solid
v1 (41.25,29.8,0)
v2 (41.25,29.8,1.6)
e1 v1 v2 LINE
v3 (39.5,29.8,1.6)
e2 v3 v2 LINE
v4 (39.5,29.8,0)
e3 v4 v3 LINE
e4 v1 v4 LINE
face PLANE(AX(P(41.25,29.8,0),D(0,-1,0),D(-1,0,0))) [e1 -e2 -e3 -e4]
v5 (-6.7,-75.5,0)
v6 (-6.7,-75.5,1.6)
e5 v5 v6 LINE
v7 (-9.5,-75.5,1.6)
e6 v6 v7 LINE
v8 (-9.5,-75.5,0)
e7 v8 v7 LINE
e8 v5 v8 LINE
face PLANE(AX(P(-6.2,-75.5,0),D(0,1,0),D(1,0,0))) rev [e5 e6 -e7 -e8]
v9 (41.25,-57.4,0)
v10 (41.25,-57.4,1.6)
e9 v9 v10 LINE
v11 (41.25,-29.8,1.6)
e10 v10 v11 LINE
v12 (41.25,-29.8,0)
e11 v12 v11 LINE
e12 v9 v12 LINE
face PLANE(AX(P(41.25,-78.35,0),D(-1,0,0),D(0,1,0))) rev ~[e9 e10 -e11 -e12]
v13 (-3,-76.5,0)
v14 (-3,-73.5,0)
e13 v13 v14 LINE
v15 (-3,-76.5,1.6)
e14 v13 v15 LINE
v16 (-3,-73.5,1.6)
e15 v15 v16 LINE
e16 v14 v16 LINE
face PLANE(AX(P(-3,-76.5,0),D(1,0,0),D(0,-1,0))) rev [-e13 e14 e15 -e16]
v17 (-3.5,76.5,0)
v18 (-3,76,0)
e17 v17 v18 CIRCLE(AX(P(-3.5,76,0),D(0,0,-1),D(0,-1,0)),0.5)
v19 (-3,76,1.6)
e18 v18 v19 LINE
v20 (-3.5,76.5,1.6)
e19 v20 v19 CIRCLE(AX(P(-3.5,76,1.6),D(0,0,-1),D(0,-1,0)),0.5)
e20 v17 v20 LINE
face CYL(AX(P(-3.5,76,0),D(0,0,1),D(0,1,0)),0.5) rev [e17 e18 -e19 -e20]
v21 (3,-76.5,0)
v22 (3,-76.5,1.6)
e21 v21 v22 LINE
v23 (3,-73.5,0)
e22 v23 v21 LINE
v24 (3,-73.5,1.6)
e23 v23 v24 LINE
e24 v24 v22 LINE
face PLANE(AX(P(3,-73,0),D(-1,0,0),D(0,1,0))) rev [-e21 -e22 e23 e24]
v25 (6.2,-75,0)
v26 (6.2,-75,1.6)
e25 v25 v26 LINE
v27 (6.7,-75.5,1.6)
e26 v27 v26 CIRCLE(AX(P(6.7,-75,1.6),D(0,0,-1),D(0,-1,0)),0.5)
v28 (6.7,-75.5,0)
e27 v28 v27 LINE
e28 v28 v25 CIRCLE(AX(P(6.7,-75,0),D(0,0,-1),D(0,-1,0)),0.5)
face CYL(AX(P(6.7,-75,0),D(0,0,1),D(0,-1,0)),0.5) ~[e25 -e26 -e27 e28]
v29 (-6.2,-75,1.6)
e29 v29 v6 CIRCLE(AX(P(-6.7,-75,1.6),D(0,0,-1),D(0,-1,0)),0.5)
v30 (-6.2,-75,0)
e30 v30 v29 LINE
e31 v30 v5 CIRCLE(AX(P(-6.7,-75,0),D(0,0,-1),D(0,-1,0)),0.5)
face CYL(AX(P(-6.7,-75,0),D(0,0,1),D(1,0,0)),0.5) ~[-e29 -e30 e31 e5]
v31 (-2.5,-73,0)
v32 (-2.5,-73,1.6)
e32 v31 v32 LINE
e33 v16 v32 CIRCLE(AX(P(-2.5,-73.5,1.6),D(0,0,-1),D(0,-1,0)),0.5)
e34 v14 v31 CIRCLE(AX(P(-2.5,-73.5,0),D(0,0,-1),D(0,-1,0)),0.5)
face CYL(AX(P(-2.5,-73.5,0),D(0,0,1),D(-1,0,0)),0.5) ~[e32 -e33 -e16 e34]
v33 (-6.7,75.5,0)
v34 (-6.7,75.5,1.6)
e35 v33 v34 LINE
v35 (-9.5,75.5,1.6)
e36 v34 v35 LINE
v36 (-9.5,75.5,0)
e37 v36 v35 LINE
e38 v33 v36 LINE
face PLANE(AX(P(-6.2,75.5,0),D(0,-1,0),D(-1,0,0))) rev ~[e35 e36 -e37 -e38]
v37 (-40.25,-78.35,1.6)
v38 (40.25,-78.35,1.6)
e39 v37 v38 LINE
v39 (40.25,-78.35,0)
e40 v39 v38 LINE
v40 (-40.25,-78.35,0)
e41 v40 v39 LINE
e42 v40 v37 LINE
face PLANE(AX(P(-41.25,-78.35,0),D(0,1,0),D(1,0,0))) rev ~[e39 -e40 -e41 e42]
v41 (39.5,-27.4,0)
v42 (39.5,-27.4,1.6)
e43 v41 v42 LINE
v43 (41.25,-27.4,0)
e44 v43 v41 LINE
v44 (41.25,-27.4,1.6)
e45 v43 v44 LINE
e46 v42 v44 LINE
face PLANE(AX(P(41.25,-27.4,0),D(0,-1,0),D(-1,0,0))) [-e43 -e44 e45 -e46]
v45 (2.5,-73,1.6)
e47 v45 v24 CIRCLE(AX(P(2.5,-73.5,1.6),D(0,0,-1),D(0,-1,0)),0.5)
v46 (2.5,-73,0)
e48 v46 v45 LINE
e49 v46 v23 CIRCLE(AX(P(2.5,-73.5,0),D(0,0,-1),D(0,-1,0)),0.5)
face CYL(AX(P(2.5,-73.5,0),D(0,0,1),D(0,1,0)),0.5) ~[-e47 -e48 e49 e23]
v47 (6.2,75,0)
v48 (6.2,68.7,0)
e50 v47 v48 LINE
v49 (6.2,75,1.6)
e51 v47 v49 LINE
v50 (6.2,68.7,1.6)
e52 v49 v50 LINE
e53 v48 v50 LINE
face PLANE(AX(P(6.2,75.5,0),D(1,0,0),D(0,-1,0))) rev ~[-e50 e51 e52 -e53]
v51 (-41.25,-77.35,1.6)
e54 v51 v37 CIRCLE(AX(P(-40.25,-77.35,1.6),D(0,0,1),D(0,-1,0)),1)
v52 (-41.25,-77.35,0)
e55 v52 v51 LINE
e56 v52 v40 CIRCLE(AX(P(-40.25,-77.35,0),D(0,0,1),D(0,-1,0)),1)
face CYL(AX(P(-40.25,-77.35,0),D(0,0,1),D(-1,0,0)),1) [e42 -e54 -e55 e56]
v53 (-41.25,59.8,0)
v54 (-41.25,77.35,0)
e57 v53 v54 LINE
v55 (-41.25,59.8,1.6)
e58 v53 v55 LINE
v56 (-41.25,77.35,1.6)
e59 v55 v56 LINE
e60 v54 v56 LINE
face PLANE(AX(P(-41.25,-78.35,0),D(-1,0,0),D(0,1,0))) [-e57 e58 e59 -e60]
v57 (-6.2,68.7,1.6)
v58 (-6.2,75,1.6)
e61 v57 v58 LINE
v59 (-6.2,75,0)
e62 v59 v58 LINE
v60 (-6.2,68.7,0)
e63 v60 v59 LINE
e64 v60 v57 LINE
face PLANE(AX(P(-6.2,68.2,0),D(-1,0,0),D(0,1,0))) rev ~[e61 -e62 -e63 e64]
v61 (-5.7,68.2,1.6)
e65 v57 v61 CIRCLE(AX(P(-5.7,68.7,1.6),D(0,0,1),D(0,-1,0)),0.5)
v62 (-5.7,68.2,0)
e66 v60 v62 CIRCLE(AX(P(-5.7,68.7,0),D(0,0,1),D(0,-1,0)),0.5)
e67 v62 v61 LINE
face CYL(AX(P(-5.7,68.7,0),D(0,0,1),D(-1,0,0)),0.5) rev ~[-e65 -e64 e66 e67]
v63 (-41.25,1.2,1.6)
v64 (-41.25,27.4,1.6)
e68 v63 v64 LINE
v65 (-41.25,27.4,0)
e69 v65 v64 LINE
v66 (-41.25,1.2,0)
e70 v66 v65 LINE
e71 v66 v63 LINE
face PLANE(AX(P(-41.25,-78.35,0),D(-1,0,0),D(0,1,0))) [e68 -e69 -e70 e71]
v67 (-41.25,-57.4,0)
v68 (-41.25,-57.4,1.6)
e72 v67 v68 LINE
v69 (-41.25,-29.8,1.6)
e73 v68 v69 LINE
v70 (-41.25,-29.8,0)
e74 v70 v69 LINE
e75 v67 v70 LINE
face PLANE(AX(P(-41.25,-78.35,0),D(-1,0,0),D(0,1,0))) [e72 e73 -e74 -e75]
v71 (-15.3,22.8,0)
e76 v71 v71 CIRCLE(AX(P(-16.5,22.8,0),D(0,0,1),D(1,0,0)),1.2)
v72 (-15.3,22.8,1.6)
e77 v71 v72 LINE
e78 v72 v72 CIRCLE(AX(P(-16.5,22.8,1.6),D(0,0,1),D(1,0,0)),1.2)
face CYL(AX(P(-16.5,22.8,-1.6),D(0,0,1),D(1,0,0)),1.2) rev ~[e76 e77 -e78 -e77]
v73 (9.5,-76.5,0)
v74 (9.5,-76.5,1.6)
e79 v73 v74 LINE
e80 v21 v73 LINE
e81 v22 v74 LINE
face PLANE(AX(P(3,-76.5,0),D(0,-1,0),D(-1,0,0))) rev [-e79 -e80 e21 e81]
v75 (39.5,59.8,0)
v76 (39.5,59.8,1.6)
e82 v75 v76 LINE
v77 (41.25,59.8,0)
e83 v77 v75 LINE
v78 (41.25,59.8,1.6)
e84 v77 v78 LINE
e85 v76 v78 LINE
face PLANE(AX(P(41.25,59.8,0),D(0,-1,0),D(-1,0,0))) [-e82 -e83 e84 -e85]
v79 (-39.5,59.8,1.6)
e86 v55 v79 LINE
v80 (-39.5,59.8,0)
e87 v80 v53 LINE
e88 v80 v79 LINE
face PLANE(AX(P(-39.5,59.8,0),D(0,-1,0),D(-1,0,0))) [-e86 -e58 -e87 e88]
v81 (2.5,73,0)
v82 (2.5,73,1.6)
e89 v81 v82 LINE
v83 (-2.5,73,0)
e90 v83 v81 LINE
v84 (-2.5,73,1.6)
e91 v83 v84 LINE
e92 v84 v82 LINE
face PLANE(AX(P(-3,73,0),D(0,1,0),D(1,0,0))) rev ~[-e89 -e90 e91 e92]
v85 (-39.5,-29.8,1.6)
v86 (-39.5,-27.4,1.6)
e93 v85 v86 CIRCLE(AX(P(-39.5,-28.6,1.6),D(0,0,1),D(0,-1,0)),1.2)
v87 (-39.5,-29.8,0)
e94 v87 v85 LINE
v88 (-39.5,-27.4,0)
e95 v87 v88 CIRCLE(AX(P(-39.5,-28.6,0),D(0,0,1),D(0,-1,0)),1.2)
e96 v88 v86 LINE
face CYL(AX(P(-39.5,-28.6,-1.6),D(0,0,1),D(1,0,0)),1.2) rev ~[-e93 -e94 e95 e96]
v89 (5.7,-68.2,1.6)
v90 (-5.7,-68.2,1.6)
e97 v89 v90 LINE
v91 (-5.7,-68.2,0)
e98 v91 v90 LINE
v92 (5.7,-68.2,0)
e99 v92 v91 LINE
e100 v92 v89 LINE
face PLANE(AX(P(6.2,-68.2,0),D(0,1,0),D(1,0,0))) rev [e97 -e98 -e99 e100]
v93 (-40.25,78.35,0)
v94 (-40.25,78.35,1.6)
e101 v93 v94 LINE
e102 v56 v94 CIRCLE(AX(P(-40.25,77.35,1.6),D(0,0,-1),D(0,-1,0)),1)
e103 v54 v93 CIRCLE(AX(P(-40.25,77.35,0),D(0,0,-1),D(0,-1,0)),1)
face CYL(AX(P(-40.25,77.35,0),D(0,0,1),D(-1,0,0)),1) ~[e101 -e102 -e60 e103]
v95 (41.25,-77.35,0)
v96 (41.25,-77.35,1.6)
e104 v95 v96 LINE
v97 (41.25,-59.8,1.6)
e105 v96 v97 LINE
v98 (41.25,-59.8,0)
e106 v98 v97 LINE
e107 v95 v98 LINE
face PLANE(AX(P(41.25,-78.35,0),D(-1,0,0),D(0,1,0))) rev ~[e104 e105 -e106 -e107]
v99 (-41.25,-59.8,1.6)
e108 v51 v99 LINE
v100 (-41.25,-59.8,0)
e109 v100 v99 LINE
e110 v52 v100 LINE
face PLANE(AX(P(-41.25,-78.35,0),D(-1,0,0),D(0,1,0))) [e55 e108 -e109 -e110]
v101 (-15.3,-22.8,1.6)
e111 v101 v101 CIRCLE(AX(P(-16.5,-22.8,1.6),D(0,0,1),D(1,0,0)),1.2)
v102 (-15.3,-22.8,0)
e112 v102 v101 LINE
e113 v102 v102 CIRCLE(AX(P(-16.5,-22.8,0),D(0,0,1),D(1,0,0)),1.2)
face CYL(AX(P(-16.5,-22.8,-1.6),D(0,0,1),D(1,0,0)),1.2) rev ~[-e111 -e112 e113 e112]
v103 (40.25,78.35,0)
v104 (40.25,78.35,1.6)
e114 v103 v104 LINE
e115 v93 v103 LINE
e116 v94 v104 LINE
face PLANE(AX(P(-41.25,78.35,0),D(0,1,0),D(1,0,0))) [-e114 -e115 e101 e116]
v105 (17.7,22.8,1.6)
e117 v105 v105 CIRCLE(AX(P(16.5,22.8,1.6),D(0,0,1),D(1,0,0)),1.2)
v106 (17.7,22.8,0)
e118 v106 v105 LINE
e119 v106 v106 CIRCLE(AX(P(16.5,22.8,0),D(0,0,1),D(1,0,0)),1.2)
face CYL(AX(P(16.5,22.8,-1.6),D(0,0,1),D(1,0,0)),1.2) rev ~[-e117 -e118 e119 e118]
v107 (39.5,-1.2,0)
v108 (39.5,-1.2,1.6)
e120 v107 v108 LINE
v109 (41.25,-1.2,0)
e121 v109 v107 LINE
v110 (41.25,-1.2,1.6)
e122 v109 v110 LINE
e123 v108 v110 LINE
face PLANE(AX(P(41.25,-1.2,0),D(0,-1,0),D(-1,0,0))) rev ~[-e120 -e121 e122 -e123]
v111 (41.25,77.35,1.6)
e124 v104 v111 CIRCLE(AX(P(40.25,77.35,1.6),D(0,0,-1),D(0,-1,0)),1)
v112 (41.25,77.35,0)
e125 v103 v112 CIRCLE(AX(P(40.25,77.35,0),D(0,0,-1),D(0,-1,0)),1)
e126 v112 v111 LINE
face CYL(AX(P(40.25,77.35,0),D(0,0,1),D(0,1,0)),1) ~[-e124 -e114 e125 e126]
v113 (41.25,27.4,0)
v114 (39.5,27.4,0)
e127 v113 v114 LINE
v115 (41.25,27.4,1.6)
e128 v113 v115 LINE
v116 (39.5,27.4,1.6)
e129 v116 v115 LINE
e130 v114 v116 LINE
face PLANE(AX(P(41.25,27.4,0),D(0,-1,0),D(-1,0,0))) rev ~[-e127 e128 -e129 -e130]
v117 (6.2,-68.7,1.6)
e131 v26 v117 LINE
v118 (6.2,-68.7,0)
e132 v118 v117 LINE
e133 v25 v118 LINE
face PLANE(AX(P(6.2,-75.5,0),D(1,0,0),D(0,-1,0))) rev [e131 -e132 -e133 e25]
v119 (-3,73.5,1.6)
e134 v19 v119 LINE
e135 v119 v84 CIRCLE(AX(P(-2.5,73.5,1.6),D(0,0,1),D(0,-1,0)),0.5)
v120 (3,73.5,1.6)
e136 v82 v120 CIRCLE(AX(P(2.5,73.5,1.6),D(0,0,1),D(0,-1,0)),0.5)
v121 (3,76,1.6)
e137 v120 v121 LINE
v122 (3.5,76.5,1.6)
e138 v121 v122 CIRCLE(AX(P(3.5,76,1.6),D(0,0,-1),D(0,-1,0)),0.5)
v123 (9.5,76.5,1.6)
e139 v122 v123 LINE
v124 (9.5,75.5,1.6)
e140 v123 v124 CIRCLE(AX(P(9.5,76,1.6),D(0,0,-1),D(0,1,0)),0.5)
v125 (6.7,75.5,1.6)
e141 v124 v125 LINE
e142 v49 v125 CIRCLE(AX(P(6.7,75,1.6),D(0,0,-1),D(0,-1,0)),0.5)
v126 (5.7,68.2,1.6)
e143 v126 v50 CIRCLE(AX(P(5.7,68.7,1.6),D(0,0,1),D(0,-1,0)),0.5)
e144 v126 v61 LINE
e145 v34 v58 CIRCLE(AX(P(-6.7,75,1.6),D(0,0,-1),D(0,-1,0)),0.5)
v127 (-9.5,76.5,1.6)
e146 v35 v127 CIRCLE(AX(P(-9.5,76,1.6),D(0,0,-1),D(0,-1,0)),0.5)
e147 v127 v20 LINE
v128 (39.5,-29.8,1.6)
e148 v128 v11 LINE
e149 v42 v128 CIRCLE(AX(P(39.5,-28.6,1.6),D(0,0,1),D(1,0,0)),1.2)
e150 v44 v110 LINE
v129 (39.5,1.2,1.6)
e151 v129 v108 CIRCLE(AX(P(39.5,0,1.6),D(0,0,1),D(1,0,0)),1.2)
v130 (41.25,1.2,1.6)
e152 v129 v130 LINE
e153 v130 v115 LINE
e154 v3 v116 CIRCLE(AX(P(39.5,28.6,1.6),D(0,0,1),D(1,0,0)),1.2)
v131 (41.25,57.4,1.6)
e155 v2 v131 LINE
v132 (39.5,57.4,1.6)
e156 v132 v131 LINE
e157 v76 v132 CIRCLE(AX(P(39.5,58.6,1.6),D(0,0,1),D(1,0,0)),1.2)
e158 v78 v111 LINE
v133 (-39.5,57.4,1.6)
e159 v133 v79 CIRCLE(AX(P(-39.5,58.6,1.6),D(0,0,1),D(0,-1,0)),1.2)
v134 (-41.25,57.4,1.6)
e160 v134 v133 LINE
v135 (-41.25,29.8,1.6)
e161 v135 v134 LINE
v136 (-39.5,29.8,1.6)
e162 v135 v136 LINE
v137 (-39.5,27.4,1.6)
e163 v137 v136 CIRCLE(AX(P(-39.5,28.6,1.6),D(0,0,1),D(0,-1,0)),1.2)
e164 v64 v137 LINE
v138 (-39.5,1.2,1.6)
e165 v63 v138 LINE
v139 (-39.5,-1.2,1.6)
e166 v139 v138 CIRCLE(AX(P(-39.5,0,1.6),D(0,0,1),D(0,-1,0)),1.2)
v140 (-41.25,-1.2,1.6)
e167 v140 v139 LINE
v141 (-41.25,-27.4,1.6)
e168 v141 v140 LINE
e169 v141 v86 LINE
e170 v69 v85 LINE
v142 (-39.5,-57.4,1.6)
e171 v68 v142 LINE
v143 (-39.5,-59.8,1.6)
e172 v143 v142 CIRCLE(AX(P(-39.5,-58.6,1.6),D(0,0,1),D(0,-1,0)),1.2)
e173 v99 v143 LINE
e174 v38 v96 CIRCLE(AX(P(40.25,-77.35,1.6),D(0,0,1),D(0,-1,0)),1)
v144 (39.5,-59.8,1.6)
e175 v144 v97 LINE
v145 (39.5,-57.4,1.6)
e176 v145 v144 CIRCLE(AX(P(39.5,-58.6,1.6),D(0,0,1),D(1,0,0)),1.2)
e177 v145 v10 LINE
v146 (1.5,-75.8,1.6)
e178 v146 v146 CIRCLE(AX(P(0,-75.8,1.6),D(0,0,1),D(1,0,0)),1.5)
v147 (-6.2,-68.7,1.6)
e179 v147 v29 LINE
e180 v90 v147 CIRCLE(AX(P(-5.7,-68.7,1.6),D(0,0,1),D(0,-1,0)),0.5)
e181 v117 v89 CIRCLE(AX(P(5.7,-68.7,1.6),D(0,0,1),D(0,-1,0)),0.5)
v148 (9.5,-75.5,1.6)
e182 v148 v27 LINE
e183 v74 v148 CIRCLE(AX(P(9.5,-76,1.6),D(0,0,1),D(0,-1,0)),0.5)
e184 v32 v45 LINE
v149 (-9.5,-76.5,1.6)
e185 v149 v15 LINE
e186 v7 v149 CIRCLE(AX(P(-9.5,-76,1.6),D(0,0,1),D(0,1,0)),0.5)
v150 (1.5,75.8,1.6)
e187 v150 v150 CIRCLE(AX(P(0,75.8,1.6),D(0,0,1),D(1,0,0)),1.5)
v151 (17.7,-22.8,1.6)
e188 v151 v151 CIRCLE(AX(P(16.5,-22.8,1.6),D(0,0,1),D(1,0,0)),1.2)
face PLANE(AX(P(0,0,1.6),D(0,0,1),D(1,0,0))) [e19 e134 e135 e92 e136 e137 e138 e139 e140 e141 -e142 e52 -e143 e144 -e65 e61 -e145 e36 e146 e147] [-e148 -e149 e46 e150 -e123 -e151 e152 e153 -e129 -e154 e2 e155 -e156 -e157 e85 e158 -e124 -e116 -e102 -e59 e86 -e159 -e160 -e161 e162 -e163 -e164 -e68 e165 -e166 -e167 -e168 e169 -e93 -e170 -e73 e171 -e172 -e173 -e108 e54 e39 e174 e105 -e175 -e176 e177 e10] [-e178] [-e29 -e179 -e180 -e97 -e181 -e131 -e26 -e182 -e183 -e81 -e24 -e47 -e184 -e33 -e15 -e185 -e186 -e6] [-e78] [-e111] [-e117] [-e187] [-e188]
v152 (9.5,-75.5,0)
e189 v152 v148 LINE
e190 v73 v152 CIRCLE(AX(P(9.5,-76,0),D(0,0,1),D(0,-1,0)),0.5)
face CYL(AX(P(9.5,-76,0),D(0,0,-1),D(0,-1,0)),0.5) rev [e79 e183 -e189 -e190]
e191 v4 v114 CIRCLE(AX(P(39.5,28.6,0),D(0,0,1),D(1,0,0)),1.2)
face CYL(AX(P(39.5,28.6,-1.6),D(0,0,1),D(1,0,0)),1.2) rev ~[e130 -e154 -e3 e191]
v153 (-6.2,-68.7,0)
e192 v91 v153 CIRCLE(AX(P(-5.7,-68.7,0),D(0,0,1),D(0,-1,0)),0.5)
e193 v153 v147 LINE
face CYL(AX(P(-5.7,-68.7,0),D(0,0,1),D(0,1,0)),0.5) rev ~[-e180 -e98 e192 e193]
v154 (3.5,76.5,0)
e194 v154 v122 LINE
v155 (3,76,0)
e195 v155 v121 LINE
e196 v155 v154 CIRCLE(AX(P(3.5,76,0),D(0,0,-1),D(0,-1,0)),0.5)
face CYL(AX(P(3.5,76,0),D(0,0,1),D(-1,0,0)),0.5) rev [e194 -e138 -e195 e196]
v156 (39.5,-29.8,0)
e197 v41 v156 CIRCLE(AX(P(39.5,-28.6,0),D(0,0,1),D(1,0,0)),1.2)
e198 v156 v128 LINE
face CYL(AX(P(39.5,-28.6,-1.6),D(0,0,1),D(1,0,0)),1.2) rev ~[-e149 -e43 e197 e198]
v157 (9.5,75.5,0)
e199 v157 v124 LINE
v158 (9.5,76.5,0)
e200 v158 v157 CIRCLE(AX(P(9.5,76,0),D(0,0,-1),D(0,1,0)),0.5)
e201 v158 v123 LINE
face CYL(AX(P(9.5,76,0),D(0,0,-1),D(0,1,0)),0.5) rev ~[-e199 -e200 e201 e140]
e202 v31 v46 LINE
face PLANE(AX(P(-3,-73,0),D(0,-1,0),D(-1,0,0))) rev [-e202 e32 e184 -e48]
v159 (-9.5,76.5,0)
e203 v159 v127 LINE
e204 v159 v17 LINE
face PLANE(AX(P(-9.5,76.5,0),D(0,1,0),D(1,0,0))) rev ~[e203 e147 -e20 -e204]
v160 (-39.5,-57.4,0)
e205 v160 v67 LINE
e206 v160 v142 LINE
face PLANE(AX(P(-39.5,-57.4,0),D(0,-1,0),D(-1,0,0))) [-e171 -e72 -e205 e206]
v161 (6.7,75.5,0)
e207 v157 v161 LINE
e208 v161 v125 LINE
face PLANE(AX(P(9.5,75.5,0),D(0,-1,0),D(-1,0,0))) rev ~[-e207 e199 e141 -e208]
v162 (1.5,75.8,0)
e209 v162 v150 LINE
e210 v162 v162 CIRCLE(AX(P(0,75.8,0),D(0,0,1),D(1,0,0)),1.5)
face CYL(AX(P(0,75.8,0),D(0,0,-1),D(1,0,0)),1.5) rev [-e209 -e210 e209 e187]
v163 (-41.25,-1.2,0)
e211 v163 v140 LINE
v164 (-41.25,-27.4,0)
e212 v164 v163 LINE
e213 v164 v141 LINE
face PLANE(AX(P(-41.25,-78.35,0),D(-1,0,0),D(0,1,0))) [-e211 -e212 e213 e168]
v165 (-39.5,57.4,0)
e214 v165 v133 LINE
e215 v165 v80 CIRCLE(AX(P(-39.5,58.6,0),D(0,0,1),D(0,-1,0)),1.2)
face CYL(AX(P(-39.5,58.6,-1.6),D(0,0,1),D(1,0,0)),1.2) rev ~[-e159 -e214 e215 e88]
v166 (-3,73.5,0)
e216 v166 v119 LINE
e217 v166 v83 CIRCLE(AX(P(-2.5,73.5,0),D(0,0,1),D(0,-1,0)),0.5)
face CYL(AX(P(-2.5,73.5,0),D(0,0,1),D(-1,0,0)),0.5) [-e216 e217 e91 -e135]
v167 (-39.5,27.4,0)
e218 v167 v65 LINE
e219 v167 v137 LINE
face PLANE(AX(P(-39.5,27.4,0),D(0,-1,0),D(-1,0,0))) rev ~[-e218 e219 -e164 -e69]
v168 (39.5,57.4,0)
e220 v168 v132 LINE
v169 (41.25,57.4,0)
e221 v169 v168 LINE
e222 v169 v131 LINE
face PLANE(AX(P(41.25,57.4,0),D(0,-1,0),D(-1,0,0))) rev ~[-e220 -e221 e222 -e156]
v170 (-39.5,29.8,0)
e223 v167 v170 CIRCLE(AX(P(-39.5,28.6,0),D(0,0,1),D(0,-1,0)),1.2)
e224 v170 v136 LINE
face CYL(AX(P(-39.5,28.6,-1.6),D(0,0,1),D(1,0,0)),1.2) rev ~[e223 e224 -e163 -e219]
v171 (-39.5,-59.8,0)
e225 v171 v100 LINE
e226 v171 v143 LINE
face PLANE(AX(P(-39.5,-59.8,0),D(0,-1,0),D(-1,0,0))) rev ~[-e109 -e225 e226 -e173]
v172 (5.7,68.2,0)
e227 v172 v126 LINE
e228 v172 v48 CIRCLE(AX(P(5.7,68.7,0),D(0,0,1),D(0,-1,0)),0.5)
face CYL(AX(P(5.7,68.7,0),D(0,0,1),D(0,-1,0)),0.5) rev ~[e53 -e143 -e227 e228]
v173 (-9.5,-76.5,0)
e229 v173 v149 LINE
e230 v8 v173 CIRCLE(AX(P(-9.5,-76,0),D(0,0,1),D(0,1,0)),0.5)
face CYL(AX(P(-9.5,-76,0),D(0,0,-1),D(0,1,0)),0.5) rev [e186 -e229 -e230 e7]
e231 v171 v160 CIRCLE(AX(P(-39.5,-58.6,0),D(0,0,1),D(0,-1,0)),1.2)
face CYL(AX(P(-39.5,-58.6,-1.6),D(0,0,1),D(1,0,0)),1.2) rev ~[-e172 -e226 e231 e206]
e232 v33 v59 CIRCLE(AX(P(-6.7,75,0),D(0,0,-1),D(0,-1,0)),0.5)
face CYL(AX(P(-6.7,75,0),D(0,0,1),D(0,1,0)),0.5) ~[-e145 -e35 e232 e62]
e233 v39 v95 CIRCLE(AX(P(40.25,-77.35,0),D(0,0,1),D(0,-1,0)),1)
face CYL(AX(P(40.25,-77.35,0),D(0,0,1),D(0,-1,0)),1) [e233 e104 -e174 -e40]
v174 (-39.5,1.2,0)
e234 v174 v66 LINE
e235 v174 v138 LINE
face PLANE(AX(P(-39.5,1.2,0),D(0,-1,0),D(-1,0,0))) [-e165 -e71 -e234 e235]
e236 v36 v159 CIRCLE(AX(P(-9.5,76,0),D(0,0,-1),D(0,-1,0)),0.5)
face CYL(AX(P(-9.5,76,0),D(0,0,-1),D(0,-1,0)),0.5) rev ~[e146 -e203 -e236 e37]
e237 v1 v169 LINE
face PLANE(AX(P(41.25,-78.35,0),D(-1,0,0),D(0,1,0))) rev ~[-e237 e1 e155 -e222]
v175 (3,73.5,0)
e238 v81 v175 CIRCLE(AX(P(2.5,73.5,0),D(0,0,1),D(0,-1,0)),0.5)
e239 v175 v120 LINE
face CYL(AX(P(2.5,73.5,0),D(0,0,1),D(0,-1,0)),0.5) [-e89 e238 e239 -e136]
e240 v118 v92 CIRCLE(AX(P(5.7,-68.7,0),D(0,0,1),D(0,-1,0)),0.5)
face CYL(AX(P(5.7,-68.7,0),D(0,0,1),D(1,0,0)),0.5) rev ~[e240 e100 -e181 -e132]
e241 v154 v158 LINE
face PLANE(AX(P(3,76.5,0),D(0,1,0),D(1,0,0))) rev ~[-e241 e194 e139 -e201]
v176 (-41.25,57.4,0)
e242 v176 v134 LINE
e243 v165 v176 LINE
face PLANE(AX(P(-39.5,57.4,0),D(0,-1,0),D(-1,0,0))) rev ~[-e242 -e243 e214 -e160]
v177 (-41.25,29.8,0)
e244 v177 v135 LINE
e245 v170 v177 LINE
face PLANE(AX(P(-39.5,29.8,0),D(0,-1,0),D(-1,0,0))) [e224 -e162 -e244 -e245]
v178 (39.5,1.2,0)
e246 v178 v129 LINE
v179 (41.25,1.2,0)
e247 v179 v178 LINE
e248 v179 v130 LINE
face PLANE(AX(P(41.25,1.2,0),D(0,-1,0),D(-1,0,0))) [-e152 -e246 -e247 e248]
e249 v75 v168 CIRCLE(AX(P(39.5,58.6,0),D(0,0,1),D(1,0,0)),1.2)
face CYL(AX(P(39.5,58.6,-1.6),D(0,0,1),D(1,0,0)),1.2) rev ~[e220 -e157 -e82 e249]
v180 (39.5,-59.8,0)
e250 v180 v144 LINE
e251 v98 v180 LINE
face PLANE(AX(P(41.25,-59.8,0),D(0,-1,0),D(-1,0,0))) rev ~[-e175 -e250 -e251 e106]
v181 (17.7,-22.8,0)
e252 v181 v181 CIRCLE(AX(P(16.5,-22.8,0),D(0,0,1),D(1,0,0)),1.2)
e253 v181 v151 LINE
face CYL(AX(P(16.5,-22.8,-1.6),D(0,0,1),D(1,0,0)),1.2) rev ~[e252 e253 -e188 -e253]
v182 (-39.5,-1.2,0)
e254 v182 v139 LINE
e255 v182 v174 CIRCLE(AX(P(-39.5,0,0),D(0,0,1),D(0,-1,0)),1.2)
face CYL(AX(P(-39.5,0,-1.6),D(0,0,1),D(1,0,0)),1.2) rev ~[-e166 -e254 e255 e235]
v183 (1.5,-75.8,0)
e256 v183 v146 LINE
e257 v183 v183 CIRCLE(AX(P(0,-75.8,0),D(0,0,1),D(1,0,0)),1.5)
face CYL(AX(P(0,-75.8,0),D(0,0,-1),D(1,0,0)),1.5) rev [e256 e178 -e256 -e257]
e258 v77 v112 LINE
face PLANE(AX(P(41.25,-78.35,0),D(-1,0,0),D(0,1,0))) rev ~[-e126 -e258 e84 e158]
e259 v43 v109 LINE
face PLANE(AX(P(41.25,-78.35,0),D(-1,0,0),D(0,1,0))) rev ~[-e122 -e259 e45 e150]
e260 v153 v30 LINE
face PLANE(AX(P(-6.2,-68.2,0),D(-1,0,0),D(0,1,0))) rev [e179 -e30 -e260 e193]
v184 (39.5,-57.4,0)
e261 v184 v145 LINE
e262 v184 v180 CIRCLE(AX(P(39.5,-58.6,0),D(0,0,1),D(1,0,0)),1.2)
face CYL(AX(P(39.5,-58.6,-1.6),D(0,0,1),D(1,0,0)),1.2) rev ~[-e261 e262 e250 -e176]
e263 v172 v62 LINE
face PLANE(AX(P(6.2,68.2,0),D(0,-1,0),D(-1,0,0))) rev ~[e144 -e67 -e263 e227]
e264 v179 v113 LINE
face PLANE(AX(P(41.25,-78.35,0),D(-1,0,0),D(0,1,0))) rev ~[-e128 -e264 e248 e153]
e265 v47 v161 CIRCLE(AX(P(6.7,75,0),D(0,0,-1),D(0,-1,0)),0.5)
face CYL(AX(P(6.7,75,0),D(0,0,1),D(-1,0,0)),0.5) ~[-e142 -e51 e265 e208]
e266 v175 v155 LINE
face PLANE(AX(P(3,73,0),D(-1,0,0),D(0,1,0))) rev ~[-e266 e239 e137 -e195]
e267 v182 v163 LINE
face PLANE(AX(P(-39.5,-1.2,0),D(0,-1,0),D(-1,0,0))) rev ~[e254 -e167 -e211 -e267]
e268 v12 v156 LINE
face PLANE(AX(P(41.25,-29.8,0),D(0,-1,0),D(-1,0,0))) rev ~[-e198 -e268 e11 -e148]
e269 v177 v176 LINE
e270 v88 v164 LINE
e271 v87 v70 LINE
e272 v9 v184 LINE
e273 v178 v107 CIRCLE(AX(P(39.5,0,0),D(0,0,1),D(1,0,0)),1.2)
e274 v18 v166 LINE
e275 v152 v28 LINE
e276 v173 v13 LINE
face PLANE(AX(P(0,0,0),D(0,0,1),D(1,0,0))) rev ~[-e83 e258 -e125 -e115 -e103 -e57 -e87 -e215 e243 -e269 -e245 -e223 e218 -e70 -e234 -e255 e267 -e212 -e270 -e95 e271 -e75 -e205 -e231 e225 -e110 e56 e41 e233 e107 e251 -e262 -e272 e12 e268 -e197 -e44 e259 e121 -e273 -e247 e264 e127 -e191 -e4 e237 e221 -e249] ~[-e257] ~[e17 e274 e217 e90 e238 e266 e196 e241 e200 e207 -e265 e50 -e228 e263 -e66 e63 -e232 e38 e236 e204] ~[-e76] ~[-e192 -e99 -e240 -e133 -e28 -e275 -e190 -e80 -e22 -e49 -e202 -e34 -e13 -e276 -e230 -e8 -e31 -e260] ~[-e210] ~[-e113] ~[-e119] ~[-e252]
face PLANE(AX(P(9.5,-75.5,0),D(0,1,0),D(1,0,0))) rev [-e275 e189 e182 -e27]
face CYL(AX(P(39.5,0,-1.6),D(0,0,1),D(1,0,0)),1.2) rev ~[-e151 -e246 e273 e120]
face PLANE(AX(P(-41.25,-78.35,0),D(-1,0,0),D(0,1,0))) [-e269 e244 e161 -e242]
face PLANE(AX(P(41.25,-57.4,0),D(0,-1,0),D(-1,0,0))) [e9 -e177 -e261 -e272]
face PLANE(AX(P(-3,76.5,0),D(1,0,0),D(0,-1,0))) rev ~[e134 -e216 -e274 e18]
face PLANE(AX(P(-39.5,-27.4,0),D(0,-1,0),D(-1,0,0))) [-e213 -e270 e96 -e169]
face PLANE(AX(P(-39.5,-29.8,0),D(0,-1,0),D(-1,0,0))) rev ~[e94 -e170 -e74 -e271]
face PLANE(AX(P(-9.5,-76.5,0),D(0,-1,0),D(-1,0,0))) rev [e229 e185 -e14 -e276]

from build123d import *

# Parameters (mm, degrees)
SKETCH1_W                    = 82.5
SKETCH1_H                    = 156.7
SKETCH1_R                    = 0.8
SKETCH1_R_2                  = 1.5
BASE_SHAPE_DEPTH             = 1.6
PCB_CORNER_FILLETS_R         = 1
SKETCH6_R                    = 1.5
SOLAR_CONNECTOR_CUTOUT_DEPTH = 1.6
SOLAR_HOLE_FILLETS_R         = 0.5
M2_CLEARANCE_HOLE1_D         = 2.4
M2_CLEARANCE_HOLE1_DEPTH     = 1.6
SKETCH10_W                   = 1.75
SKETCH10_H                   = 2.4
SCREW_SLOTS_DEPTH            = 89.559838527


with BuildPart() as part:
    # Sketch1 → Base shape (new body)
    with BuildSketch(Plane.XY):
        Rectangle(SKETCH1_W, SKETCH1_H)
        with Locations((-39.5, 58.6)):
            Circle(SKETCH1_R, mode=Mode.SUBTRACT)
        with Locations((-39.5, 28.6)):
            Circle(SKETCH1_R, mode=Mode.SUBTRACT)
        with Locations((-39.5, 0)):
            Circle(SKETCH1_R, mode=Mode.SUBTRACT)
        with Locations((-39.5, -28.6)):
            Circle(SKETCH1_R, mode=Mode.SUBTRACT)
        with Locations((-39.5, -58.6)):
            Circle(SKETCH1_R, mode=Mode.SUBTRACT)
        with Locations((0, -75.8)):
            Circle(SKETCH1_R_2, mode=Mode.SUBTRACT)
        with Locations((39.5, -58.6)):
            Circle(SKETCH1_R, mode=Mode.SUBTRACT)
        with Locations((39.5, -28.6)):
            Circle(SKETCH1_R, mode=Mode.SUBTRACT)
        with Locations((39.5, 0)):
            Circle(SKETCH1_R, mode=Mode.SUBTRACT)
        with Locations((39.5, 28.6)):
            Circle(SKETCH1_R, mode=Mode.SUBTRACT)
        with Locations((39.5, 58.6)):
            Circle(SKETCH1_R, mode=Mode.SUBTRACT)
        with Locations((-16.5, 22.8)):
            Circle(SKETCH1_R, mode=Mode.SUBTRACT)
        with Locations((-16.5, -22.8)):
            Circle(SKETCH1_R, mode=Mode.SUBTRACT)
        with Locations((16.5, -22.8)):
            Circle(SKETCH1_R, mode=Mode.SUBTRACT)
        with Locations((16.5, 22.8)):
            Circle(SKETCH1_R, mode=Mode.SUBTRACT)
        with Locations((0, 75.8)):
            Circle(SKETCH1_R_2, mode=Mode.SUBTRACT)
    extrude(amount=BASE_SHAPE_DEPTH)

    # PCB corner fillets
    pcb_corner_fillets_edges = [part.edges().sort_by_distance(p)[0] for p in [
        (41.25, -78.35, 0.8),
        (-41.25, -78.35, 0.8),
        (-41.25, 78.35, 0.8),
        (41.25, 78.35, 0.8),
    ]]
    fillet(pcb_corner_fillets_edges, radius=PCB_CORNER_FILLETS_R)

    # Sketch6 → Solar connector cutout (cut)
    with BuildSketch(Plane(origin=(0, 0, 0), x_dir=(-1, 0, 0), z_dir=(0, 0, -1))):
        with Locations(Location((0, 75.8, 0), (0, 0, 180))):
            Circle(SKETCH6_R)
        with BuildLine():
            Line((9.5, 76.5), (3, 76.5))
            Line((3, 76.5), (3, 73))
            Line((3, 73), (-3, 73))
            Line((-3, 73), (-3, 76.5))
            Line((-3, 76.5), (-9.5, 76.5))
            ThreePointArc((-9.5, 76.5), (-10, 76), (-9.5, 75.5))
            Line((-9.5, 75.5), (-6.2, 75.5))
            Line((-6.2, 75.5), (-6.2, 68.2))
            Line((-6.2, 68.2), (6.2, 68.2))
            Line((6.2, 68.2), (6.2, 75.5))
            Line((6.2, 75.5), (9.5, 75.5))
            ThreePointArc((9.5, 75.5), (10, 76), (9.5, 76.5))
        make_face()
    solar_connector_cutout = extrude(amount=-SOLAR_CONNECTOR_CUTOUT_DEPTH, mode=Mode.SUBTRACT)

    # Mirror solar cutout: Solar connector cutout across plane
    add(solar_connector_cutout.mirror(Plane.ZX), mode=Mode.SUBTRACT)

    # Solar Hole fillets
    solar_hole_fillets_edges = [part.edges().sort_by_distance(p)[0] for p in [
        (-3, 76.5, 0.8),
        (-3, 73, 0.8),
        (3, 73, 0.8),
        (3, 76.5, 0.8),
        (6.2, 75.5, 0.8),
        (6.2, 68.2, 0.8),
        (-6.2, 68.2, 0.8),
        (-6.2, 75.5, 0.8),
        (-3, -73, 0.8),
        (3, -73, 0.8),
        (6.2, -75.5, 0.8),
        (6.2, -68.2, 0.8),
        (-6.2, -68.2, 0.8),
        (-6.2, -75.5, 0.8),
    ]]
    fillet(solar_hole_fillets_edges, radius=SOLAR_HOLE_FILLETS_R)

    # M2 Clearance Hole1
    with Locations(Plane(origin=(39.5, 58.6, 0), x_dir=(-1, 0, 0), z_dir=(0, 0, -1))):
        with Locations((0, 0), (0, -30), (23, -35.8), (56, -35.8), (79, -30), (79, 0), (79, -58.6), (0, -58.6), (23, -81.4), (56, -81.4), (79, -87.2), (0, -87.2), (0, -117.2), (79, -117.2)):
            Hole(M2_CLEARANCE_HOLE1_D / 2, depth=M2_CLEARANCE_HOLE1_DEPTH)

    # Sketch10 → Screw Slots (cut, through all)
    with BuildSketch(Plane(origin=(0, 0, 0), x_dir=(-1, 0, 0), z_dir=(0, 0, -1))):
        with Locations((40.375, 58.6)):
            Rectangle(SKETCH10_W, SKETCH10_H)
        with Locations((40.375, 28.6)):
            Rectangle(SKETCH10_W, SKETCH10_H)
        with Locations((40.375, 0)):
            Rectangle(SKETCH10_W, SKETCH10_H)
        with Locations((40.375, -28.6)):
            Rectangle(SKETCH10_W, SKETCH10_H)
        with Locations((40.375, -58.6)):
            Rectangle(SKETCH10_W, SKETCH10_H)
        with Locations((-40.375, -58.6)):
            Rectangle(SKETCH10_W, SKETCH10_H)
        with Locations((-40.375, -28.6)):
            Rectangle(SKETCH10_W, SKETCH10_H)
        with Locations((-40.375, 0)):
            Rectangle(SKETCH10_W, SKETCH10_H)
        with Locations((-40.375, 28.6)):
            Rectangle(SKETCH10_W, SKETCH10_H)
        with Locations((-40.375, 58.6)):
            Rectangle(SKETCH10_W, SKETCH10_H)
    extrude(amount=-SCREW_SLOTS_DEPTH, mode=Mode.SUBTRACT)


solid = part.part
